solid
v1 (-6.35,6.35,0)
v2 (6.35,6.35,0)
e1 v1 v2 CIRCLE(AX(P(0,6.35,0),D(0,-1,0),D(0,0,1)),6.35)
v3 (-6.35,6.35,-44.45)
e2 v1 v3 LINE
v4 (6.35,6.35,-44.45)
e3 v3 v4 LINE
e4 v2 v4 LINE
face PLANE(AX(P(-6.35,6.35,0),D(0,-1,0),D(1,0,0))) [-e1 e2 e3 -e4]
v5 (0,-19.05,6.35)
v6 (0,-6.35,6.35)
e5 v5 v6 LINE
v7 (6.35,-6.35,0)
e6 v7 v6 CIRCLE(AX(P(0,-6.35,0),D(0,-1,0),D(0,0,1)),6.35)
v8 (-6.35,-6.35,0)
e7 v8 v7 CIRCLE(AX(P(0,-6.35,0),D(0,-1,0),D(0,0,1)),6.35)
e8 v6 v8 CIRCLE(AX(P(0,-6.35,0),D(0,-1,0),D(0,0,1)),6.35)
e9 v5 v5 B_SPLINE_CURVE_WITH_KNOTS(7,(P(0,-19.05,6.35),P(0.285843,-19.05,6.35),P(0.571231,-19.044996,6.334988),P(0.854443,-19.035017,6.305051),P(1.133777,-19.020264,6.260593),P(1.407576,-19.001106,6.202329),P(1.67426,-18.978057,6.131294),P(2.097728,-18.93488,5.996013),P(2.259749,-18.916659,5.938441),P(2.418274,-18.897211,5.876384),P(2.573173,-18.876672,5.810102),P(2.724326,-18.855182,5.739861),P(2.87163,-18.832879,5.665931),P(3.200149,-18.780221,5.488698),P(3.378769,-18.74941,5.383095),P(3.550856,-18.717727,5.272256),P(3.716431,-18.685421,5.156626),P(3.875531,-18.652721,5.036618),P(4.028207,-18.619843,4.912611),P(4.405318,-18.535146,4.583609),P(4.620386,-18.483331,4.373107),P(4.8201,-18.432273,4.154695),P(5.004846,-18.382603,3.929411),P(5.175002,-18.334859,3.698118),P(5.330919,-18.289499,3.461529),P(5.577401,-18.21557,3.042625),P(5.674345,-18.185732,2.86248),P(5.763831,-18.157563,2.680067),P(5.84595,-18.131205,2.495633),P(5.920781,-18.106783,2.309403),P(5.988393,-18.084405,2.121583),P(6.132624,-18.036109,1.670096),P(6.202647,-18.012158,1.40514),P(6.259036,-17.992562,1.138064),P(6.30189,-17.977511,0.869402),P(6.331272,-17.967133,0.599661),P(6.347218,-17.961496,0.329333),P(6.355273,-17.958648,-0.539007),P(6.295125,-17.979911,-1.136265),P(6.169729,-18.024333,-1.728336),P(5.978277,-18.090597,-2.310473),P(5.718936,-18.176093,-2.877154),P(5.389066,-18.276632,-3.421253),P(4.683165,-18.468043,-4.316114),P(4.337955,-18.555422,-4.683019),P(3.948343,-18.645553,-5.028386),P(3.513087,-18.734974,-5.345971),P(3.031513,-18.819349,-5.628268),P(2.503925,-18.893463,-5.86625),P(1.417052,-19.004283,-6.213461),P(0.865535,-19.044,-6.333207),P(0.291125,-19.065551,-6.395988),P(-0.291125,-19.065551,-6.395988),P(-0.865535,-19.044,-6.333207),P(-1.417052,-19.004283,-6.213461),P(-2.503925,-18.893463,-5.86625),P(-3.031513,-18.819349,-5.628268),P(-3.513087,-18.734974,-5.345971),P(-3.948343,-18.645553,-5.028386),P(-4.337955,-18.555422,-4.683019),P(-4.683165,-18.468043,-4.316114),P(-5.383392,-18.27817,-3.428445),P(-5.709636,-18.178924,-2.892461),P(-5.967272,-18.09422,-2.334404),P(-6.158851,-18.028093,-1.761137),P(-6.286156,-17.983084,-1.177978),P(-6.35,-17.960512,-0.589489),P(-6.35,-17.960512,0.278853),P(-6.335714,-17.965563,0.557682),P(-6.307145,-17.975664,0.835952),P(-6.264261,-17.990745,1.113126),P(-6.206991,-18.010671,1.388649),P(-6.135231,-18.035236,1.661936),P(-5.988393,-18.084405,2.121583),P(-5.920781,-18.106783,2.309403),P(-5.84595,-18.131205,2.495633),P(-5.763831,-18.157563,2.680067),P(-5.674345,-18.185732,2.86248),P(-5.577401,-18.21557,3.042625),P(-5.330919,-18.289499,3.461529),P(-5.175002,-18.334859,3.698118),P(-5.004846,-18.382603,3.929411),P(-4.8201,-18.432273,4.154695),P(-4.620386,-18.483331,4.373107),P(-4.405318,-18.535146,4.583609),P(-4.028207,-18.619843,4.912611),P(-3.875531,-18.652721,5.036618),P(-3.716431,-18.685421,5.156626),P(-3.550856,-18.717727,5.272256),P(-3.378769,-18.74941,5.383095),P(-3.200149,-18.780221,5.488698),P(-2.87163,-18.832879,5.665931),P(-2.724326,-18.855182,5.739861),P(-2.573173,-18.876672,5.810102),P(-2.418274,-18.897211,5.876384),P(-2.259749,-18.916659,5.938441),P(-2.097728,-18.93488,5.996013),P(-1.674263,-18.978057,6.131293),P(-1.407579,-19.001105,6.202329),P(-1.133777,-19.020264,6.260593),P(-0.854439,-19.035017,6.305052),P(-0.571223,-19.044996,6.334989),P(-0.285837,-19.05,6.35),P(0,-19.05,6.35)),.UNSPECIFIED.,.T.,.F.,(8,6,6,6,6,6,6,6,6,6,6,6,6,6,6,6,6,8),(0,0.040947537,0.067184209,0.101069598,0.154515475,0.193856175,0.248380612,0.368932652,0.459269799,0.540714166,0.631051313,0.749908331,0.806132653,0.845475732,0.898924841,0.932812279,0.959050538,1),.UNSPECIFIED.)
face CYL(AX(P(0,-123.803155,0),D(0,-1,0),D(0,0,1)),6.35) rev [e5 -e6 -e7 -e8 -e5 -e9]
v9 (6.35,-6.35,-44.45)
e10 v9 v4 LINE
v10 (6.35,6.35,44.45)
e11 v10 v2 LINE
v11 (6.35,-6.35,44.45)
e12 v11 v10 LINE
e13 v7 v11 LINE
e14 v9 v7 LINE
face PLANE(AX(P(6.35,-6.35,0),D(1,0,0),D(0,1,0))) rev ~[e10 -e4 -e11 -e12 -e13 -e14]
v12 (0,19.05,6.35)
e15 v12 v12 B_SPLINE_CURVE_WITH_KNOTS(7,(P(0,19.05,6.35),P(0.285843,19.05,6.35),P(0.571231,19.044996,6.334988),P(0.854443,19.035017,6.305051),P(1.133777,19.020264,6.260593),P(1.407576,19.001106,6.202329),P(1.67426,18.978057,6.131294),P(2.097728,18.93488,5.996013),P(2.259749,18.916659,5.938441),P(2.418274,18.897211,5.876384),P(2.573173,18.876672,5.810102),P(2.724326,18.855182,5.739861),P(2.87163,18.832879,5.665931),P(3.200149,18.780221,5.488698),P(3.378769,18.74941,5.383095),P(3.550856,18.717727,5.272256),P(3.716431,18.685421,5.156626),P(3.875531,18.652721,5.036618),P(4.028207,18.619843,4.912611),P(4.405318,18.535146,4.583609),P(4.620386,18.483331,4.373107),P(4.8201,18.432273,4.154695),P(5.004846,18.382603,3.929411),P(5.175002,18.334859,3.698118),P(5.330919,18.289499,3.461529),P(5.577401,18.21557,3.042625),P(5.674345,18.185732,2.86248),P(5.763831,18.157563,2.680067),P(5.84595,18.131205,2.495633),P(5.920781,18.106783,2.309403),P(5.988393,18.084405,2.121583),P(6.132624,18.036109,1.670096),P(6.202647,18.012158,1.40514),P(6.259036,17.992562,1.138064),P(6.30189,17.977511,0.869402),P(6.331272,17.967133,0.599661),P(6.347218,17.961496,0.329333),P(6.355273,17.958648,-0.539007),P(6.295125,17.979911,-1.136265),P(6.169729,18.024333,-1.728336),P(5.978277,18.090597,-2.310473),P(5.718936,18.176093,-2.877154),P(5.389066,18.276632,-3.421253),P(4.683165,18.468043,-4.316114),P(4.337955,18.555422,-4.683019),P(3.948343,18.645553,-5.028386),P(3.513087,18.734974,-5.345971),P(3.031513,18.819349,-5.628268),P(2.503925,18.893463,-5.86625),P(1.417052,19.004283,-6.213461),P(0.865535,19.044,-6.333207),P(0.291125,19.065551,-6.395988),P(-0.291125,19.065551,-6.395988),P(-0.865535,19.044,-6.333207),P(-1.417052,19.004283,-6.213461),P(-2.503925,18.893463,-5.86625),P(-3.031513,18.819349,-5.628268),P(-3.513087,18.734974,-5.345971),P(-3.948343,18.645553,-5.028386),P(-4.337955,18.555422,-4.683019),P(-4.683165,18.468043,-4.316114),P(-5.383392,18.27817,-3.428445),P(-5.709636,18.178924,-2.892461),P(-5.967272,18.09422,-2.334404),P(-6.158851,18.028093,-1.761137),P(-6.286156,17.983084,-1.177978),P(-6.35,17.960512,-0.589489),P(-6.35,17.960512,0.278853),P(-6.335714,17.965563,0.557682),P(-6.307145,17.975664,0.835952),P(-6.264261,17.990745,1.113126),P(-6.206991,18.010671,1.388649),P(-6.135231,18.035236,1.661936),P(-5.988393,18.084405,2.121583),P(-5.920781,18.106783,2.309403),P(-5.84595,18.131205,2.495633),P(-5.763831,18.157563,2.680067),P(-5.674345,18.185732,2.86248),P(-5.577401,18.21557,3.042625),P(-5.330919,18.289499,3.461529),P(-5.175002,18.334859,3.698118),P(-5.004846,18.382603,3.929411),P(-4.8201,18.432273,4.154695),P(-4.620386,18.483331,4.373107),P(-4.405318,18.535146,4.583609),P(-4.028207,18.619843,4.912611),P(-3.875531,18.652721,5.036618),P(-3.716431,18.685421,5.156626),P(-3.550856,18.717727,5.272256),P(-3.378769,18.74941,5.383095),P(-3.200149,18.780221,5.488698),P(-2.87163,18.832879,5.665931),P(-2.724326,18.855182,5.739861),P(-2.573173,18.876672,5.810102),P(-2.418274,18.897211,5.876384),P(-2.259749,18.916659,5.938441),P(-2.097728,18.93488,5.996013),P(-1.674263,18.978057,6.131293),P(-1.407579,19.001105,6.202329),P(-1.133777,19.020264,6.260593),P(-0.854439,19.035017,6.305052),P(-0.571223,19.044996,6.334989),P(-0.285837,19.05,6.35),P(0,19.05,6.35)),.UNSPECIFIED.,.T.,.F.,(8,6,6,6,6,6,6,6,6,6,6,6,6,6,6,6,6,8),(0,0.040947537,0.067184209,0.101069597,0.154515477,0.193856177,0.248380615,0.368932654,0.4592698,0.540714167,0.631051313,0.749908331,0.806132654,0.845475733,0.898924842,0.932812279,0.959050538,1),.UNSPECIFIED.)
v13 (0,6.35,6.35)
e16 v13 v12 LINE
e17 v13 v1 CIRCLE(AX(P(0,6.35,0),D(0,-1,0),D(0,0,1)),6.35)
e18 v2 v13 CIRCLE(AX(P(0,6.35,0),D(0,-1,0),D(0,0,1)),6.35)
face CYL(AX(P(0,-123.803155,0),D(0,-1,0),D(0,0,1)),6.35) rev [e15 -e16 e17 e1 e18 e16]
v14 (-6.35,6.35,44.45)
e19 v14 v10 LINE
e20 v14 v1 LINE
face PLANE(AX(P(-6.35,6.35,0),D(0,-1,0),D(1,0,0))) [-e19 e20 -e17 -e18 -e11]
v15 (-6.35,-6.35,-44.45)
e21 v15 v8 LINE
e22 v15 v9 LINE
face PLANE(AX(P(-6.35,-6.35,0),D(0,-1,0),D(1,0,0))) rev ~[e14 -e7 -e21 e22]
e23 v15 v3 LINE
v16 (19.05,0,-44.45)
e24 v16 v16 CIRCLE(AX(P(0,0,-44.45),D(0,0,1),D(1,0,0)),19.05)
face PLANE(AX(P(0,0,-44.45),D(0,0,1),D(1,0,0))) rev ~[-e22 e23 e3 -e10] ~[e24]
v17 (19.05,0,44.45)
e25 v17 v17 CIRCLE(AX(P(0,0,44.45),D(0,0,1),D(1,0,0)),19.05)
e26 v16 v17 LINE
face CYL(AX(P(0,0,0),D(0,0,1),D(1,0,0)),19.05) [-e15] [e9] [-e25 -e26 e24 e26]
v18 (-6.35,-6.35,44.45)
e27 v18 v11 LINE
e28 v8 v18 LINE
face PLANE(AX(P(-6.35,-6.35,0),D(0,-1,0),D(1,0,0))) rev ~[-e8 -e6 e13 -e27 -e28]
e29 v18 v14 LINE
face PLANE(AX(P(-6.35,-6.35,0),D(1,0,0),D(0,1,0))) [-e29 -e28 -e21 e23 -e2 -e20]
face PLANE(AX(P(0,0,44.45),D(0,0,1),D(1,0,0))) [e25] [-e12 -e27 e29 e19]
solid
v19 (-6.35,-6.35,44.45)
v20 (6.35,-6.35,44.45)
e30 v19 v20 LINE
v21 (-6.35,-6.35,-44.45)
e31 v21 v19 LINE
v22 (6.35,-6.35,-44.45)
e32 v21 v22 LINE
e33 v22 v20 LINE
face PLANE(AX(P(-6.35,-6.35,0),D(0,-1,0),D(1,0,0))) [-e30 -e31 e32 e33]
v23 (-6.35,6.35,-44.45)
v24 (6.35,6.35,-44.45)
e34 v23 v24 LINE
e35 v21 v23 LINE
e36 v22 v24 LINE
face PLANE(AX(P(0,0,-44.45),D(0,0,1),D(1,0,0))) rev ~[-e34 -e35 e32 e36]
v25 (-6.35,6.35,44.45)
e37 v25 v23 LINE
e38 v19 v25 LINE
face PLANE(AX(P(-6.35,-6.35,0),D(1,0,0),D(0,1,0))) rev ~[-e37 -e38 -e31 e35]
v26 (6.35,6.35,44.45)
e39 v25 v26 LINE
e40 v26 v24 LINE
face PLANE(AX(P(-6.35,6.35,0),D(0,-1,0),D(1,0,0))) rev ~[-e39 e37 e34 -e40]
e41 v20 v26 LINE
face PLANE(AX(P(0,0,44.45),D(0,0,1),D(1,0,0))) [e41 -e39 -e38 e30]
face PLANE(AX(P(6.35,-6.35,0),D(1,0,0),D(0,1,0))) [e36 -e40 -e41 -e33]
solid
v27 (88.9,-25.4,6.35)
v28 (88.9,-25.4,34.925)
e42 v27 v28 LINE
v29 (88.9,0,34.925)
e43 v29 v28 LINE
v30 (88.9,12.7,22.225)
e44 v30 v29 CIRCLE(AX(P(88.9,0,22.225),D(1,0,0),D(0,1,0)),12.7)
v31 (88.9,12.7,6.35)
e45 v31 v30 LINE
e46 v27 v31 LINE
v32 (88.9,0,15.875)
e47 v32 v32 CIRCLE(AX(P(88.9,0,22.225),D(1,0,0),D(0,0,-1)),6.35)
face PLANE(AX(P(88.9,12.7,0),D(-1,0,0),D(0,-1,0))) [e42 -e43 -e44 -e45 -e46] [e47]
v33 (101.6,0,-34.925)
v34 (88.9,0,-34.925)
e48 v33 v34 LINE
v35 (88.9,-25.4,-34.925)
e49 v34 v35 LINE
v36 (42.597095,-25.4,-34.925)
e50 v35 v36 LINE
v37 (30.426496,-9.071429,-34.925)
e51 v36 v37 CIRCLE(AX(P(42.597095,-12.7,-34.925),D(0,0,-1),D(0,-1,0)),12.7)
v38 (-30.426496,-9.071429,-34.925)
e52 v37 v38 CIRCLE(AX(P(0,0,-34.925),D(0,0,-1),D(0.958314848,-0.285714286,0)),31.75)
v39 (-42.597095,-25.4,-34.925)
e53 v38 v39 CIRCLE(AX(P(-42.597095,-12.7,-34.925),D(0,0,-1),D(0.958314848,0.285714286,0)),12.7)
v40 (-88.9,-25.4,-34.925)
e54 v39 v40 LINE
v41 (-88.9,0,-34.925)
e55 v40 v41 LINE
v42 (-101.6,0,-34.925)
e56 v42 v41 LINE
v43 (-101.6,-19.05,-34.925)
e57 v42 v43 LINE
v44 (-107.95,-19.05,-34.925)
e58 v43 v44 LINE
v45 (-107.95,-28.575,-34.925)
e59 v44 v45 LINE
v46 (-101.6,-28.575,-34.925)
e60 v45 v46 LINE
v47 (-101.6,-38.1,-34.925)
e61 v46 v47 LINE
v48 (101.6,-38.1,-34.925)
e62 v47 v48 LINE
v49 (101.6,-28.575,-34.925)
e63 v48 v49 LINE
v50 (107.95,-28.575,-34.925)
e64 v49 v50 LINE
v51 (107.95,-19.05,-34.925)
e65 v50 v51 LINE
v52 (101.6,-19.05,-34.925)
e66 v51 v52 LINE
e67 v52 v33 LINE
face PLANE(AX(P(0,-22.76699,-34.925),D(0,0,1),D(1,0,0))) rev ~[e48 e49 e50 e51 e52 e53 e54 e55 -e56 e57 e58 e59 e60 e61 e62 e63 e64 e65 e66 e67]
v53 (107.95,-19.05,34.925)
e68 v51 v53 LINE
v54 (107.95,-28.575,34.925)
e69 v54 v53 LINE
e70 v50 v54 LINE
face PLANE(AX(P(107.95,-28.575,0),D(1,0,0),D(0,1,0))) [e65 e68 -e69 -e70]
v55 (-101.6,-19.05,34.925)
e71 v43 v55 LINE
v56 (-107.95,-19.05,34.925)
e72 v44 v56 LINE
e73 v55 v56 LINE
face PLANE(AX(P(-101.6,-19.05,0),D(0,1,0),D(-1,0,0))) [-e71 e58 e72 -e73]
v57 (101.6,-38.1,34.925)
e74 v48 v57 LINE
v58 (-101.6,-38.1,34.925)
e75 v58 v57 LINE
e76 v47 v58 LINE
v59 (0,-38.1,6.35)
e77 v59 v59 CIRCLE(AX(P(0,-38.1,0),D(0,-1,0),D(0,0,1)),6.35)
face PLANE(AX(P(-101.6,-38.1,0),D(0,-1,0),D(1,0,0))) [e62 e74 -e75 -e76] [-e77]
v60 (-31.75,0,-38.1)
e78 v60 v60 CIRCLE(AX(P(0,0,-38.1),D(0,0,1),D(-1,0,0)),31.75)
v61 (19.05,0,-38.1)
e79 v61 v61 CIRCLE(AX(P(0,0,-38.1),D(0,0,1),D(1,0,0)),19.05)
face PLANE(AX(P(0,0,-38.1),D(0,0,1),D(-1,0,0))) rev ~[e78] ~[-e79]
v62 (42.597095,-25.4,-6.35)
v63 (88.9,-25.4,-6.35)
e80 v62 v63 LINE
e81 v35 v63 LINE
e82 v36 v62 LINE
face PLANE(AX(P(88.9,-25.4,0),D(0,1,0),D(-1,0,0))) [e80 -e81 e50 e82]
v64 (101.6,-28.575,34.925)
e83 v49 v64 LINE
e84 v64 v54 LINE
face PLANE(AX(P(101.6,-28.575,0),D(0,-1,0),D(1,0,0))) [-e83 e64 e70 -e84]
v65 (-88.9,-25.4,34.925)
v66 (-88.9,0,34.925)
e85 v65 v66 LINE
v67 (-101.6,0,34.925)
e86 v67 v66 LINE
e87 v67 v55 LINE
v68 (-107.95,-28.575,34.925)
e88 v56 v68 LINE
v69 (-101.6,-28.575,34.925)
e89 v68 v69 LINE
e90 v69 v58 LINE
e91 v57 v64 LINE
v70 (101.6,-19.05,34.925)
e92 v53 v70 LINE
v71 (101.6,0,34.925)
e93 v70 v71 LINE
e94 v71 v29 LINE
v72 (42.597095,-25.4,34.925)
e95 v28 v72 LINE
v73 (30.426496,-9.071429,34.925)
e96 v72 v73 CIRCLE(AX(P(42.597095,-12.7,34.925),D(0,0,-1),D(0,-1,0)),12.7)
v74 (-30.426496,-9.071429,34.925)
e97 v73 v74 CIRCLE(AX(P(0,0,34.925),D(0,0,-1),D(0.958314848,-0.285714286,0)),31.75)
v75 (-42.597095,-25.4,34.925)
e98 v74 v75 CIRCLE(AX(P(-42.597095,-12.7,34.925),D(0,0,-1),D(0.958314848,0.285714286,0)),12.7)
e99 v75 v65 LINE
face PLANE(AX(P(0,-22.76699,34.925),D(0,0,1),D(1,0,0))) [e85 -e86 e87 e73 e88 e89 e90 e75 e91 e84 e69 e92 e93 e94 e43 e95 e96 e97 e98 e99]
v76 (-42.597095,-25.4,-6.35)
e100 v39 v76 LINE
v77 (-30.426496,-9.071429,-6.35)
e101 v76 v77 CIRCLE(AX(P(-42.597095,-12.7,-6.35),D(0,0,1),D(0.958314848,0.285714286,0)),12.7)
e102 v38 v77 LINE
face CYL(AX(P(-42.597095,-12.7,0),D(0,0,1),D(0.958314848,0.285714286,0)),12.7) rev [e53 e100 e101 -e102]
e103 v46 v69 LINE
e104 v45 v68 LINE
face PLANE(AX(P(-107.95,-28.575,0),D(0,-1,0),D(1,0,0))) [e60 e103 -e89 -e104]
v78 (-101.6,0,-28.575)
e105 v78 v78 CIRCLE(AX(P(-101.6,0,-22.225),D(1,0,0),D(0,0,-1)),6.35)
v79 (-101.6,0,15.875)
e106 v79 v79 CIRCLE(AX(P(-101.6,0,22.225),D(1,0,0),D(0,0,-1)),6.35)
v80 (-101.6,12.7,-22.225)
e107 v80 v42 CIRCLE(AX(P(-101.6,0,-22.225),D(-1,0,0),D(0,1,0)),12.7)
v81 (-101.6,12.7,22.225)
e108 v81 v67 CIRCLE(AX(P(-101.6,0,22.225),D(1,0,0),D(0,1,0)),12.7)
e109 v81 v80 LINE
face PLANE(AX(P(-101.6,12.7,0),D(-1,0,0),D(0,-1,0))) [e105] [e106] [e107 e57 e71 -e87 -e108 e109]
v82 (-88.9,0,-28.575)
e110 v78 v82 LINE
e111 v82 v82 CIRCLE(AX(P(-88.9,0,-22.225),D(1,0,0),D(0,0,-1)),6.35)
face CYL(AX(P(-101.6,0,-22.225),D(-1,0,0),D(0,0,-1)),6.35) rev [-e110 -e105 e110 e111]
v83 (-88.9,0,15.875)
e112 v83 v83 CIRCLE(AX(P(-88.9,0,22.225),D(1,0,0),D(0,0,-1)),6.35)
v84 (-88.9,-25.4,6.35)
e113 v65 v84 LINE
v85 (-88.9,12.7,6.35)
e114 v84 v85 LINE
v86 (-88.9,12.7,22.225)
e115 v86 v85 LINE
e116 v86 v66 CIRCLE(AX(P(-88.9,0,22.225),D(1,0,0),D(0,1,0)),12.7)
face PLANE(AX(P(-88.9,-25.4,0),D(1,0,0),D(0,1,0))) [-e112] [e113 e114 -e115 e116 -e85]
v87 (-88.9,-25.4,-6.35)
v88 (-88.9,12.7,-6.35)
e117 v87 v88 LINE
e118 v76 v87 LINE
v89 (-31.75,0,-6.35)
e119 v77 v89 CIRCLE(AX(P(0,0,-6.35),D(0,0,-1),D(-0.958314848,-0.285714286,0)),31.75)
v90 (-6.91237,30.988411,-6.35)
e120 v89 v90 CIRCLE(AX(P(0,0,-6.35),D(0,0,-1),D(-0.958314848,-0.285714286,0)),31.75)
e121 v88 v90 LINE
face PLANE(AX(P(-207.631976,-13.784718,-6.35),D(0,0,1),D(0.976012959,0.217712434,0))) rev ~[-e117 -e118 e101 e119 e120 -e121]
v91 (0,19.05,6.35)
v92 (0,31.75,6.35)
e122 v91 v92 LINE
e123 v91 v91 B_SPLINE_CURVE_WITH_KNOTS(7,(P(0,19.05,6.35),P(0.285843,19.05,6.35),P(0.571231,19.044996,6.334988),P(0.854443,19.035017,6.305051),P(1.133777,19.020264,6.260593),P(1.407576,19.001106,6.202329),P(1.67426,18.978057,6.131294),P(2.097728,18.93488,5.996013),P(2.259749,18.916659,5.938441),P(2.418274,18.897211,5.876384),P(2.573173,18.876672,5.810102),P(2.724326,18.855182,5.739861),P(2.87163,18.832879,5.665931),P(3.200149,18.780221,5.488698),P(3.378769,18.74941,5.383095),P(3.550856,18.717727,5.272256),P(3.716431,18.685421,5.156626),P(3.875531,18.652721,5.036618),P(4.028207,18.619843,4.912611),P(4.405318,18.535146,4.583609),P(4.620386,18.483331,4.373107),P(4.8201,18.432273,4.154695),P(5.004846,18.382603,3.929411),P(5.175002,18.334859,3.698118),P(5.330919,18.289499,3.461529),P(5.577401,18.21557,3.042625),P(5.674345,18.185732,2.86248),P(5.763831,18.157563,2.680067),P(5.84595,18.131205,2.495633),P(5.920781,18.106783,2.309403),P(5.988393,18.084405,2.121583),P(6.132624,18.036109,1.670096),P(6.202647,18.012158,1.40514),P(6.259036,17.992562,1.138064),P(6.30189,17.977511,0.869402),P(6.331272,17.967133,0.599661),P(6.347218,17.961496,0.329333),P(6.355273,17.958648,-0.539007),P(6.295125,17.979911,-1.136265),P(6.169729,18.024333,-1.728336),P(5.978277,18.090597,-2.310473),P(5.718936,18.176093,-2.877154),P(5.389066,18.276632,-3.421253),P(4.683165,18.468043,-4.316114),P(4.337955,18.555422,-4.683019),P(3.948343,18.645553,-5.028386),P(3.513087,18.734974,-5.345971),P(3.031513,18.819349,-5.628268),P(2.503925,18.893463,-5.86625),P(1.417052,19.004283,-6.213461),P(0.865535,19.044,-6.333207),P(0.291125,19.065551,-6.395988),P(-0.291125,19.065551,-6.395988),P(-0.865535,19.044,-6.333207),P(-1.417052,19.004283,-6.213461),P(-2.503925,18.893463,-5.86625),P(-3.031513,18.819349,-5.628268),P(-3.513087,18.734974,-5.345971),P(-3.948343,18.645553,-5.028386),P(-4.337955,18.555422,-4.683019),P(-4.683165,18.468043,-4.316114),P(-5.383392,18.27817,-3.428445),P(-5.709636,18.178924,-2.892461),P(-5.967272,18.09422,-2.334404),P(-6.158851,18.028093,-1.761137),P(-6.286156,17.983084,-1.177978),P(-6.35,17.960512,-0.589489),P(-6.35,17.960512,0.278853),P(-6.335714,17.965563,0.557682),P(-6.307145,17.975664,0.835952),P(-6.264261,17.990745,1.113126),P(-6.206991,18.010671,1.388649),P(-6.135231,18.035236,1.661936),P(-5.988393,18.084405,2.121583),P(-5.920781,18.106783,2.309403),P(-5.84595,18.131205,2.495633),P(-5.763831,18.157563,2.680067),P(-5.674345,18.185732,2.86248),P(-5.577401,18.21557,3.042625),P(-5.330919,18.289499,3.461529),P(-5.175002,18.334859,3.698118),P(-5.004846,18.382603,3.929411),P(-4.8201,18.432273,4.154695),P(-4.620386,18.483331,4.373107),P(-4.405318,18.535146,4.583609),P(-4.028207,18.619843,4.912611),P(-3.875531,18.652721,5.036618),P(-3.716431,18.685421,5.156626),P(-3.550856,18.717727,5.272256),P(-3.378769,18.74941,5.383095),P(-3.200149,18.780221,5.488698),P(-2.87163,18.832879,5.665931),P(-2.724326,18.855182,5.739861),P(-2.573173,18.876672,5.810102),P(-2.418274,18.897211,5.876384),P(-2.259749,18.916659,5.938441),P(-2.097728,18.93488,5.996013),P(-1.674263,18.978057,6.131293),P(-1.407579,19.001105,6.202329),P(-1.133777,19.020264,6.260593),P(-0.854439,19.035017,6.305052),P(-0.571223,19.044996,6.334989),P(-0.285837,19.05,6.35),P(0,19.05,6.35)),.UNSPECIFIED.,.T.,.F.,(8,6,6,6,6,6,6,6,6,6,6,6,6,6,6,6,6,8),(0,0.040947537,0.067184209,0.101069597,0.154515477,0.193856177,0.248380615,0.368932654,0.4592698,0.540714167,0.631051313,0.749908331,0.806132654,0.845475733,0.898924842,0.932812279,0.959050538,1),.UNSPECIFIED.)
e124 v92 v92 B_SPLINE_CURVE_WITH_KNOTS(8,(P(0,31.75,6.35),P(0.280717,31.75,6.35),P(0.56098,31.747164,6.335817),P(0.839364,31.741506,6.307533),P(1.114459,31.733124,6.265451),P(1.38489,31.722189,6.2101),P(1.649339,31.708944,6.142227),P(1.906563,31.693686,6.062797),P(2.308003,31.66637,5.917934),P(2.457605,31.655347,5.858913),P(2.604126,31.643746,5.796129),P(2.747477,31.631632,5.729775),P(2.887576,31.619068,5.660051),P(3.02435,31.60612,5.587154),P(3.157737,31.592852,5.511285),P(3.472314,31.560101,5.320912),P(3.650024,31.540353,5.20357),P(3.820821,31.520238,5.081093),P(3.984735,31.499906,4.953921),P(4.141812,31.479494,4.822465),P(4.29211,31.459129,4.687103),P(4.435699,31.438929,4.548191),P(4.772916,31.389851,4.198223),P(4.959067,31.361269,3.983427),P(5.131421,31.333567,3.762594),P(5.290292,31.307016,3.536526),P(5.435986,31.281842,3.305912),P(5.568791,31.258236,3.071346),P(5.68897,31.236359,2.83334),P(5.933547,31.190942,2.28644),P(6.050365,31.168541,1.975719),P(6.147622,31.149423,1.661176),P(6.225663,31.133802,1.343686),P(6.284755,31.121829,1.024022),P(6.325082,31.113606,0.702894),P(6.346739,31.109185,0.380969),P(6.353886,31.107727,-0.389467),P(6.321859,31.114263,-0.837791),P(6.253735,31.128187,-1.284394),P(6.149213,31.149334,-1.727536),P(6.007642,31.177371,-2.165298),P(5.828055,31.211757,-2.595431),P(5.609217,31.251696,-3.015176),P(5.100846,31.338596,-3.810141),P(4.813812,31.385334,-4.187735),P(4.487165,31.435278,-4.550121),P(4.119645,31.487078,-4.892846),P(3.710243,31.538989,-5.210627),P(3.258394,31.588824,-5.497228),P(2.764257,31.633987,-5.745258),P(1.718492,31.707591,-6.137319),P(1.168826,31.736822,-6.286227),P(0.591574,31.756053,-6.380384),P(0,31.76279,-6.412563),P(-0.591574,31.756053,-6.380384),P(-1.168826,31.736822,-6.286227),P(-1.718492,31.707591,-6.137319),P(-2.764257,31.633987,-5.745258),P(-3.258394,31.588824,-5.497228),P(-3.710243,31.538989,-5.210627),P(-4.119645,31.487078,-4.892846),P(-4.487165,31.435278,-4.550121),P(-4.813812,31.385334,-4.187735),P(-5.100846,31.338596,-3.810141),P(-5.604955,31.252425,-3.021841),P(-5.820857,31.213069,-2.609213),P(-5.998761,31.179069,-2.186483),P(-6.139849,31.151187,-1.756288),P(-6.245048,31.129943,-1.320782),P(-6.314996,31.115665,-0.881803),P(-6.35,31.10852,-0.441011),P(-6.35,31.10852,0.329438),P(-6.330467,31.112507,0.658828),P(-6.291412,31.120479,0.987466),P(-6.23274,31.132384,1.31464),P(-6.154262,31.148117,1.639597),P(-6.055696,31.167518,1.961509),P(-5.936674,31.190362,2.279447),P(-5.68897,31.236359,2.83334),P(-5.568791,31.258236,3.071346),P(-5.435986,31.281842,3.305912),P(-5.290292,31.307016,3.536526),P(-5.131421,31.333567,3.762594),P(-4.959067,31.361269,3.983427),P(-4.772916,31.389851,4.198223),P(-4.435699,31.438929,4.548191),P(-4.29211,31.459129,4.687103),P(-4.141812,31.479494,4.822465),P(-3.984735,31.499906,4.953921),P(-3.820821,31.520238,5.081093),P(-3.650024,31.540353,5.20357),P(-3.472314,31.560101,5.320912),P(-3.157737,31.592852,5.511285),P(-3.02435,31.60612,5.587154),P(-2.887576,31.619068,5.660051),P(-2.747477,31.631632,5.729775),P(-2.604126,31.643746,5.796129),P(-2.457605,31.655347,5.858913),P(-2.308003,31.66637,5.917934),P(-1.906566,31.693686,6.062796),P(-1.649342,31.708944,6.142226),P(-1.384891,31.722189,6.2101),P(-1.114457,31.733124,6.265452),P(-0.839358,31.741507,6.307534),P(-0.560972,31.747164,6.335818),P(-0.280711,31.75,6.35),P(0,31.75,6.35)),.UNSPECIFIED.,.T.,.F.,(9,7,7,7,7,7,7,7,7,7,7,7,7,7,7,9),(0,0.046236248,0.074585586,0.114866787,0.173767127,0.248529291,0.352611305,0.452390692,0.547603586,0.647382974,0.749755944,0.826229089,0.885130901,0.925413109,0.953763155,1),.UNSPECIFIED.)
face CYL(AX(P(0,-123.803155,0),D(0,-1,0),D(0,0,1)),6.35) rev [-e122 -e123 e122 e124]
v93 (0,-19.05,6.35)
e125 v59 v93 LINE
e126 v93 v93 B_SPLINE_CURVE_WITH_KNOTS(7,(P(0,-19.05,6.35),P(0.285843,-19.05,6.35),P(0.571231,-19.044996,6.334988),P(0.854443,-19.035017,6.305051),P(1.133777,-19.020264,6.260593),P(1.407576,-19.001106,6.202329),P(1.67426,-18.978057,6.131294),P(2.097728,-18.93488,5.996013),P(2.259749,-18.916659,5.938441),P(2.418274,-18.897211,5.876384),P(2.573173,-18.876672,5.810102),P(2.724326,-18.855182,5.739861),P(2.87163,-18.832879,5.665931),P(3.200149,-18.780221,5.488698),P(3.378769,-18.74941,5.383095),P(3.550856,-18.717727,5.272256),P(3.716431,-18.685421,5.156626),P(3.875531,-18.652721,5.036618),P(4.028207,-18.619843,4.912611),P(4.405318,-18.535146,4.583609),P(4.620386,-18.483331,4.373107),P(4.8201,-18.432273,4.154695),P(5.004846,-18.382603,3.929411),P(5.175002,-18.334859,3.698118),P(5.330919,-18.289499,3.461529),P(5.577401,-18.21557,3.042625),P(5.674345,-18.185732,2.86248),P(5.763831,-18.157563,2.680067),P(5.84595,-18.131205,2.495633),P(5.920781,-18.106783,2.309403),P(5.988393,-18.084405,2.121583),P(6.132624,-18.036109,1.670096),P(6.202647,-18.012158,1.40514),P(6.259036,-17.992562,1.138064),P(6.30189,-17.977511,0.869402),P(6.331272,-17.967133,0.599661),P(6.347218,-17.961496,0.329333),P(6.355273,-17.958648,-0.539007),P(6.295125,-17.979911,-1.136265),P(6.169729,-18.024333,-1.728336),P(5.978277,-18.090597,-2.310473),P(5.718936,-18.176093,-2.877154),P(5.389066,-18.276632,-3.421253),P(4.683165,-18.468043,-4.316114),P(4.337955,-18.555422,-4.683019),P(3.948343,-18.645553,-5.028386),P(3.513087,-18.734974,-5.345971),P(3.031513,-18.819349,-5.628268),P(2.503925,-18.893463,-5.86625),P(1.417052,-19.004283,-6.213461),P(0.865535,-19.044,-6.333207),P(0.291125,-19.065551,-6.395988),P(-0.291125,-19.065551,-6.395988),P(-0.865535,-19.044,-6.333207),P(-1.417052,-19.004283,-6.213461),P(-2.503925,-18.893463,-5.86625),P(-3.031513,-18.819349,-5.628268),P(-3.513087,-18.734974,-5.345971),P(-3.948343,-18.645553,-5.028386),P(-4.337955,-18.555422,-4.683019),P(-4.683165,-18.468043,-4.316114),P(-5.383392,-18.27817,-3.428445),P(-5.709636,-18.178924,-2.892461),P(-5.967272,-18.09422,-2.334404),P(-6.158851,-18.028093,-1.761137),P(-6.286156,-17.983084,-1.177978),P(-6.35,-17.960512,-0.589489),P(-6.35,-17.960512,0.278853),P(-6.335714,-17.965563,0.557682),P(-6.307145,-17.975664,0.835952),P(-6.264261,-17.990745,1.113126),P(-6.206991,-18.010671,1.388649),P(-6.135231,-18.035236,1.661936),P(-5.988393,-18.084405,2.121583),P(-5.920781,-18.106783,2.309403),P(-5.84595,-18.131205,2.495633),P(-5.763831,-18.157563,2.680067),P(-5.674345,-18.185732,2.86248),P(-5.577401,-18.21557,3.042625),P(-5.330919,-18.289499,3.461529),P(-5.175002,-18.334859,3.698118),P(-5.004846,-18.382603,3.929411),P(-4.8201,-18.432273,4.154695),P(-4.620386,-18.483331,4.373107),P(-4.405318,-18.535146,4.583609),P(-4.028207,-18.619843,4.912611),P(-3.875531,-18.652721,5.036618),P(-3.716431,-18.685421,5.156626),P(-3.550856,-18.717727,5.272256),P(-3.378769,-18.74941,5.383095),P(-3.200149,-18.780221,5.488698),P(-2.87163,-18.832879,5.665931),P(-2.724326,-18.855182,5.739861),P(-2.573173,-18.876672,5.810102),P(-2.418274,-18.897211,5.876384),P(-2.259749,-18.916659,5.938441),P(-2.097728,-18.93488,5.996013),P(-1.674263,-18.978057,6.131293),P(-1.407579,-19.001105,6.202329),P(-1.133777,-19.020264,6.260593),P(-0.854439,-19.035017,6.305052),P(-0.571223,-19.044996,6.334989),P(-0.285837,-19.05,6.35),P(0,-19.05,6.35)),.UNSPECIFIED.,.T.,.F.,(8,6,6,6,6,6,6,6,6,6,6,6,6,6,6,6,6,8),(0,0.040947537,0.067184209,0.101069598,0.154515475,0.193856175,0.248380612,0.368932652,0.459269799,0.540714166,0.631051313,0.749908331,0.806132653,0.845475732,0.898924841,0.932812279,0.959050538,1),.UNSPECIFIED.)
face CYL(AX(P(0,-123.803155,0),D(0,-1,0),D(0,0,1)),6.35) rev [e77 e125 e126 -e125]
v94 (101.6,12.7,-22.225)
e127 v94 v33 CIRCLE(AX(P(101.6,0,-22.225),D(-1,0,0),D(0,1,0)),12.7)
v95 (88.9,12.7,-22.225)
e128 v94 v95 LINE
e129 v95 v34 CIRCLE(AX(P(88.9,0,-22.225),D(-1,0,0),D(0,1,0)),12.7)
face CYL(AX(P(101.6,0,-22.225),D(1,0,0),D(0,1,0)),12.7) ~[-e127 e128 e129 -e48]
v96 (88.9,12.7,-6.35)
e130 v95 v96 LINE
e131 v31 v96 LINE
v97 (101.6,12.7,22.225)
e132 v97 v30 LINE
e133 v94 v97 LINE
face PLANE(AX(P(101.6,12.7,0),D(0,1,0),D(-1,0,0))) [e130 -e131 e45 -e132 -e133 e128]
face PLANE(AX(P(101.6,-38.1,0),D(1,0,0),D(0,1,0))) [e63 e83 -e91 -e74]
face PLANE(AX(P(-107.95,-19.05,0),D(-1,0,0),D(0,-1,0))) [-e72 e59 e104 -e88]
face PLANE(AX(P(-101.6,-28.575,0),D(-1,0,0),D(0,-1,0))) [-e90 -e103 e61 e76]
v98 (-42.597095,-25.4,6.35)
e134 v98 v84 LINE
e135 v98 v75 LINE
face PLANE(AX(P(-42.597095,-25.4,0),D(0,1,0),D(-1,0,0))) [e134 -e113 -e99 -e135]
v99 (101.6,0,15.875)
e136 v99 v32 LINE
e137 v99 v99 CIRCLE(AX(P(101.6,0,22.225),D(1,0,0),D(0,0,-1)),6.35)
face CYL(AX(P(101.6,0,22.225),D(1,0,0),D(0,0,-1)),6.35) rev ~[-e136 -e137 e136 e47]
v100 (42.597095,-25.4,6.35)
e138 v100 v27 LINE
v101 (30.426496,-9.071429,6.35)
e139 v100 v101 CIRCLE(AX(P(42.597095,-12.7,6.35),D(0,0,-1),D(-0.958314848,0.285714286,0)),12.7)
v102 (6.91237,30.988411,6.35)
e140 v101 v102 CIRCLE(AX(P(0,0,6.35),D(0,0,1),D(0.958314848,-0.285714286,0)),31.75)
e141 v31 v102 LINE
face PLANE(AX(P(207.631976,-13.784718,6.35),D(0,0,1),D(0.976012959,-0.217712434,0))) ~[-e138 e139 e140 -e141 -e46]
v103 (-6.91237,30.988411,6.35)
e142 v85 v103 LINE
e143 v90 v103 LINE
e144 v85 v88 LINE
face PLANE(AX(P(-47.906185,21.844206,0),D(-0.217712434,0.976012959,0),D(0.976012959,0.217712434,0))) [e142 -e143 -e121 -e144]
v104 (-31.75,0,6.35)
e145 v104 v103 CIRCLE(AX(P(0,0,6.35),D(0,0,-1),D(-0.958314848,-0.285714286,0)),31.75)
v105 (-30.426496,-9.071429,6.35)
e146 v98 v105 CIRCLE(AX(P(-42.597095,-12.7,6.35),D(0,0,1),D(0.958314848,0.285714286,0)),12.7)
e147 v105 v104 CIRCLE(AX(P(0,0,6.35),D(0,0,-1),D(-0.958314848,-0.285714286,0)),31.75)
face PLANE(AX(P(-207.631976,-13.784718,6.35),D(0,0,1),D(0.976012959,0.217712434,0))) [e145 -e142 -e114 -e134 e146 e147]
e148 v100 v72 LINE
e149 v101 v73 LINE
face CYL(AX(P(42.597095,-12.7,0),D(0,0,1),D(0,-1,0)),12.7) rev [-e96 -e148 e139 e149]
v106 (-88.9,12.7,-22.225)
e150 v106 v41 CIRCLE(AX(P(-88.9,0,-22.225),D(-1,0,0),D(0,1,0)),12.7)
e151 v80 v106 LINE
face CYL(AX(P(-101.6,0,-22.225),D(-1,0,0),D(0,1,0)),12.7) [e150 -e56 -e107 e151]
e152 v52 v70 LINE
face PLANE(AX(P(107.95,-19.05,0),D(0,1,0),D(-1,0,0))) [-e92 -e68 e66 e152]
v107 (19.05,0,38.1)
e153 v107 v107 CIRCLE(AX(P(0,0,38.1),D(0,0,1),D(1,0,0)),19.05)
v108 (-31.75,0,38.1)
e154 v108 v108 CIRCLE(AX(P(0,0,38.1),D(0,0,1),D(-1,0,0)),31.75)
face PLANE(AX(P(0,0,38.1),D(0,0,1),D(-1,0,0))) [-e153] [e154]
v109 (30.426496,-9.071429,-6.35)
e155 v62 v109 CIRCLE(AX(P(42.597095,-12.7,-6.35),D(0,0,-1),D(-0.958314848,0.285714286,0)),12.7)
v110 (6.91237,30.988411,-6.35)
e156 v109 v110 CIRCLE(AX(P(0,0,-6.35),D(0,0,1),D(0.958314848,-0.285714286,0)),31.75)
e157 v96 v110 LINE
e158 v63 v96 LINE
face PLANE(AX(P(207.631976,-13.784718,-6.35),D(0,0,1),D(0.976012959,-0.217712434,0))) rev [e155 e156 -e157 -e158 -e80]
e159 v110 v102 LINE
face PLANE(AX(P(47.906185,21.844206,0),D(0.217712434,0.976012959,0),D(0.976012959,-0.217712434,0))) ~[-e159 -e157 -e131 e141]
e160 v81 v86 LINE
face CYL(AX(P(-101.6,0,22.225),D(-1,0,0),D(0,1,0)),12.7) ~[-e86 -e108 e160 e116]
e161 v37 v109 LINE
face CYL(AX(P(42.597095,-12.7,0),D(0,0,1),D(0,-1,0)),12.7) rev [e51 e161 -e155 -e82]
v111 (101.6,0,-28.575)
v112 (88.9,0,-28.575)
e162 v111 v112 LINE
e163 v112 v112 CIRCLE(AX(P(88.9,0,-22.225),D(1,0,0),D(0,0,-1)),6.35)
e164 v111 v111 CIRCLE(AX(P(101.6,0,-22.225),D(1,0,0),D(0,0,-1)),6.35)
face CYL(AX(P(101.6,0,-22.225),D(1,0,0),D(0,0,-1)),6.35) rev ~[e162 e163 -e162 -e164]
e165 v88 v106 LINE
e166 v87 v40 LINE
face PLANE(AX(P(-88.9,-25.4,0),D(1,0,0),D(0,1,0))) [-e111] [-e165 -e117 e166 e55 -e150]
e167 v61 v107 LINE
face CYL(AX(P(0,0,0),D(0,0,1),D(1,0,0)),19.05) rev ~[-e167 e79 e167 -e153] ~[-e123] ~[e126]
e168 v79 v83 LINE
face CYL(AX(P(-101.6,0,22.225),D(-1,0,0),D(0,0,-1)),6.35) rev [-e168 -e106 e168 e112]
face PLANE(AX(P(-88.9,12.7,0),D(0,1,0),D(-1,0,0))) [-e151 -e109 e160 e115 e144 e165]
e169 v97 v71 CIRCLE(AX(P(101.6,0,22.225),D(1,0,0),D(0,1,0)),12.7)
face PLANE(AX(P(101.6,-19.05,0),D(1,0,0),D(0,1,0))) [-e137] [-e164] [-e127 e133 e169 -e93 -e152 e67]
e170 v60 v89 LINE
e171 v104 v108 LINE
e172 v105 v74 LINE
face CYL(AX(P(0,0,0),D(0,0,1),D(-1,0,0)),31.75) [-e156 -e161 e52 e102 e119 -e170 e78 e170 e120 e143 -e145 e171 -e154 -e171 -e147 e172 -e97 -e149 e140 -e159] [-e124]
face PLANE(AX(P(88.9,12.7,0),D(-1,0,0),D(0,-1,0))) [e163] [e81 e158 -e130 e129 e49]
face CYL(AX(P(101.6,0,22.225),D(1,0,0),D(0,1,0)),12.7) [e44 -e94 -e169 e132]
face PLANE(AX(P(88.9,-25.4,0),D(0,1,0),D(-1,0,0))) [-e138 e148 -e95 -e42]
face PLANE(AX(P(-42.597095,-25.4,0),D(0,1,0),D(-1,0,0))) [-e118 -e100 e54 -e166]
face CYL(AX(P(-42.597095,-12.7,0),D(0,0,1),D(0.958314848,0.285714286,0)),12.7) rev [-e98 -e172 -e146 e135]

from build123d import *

# Parameters (mm, degrees)
SKETCH1_R               = 31.75
BOSS_EXTRUDE1_DEPTH     = 38.1
BOSS_EXTRUDE3_DEPTH     = 34.925
RIB2_REACH              = 122.65
SKETCH5_WALL_W          = 327.302604126
SKETCH5_WALL_H          = 12.7
SKETCH10_R              = 19.05
CUT_EXTRUDE5_DEPTH      = 44.45
SKETCH6_R               = 19.05
BOSS_EXTRUDE8_DEPTH     = 44.45
SKETCH7_W               = 12.7
SKETCH7_H               = 12.7
CUT_EXTRUDE6_DEPTH      = 44.45
SKETCH7_2_W             = 12.7
SKETCH7_2_H             = 12.7
BOSS_EXTRUDE9_DEPTH     = 44.45
CUT_EXTRUDE7_REACH      = 219.574
SKETCH13_R              = 6.35
CUT_EXTRUDE8_REACH      = 219.574
MIRROR4_COPY_1_REACH    = 219.574
CUT_EXTRUDE9_DEPTH      = 123.803155497
CUT_EXTRUDE9_DEPTH_BACK = 123.803155497
SKETCH15_R              = 6.35


with BuildPart() as part:
    # Sketch1 → Boss-Extrude1 (new, symmetric)
    with BuildSketch(Plane.XY):
        with Locations(Location((0, 0, 0), (0, 0, 180))):
            Circle(SKETCH1_R)
    extrude(amount=BOSS_EXTRUDE1_DEPTH, both=True)

    # Sketch4 → Boss-Extrude3 (add, symmetric)
    with BuildSketch(Plane.XY):
        with BuildLine():
            Line((-101.6, 12.7), (-101.6, -19.05))
            Line((-101.6, -19.05), (-107.95, -19.05))
            Line((-107.95, -19.05), (-107.95, -28.575))
            Line((-107.95, -28.575), (-101.6, -28.575))
            Line((-101.6, -28.575), (-101.6, -38.1))
            Line((-101.6, -38.1), (101.6, -38.1))
            Line((101.6, -38.1), (101.6, -28.575))
            Line((101.6, -28.575), (107.95, -28.575))
            Line((107.95, -28.575), (107.95, -19.05))
            Line((107.95, -19.05), (101.6, -19.05))
            Line((101.6, -19.05), (101.6, 12.7))
            Line((101.6, 12.7), (88.9, 12.7))
            Line((88.9, 12.7), (88.9, -25.4))
            Line((88.9, -25.4), (42.597094971, -25.4))
            ThreePointArc((42.597094971, -25.4), (32.414441655, -20.289701669), (30.426496408, -9.071428571))
            ThreePointArc((30.426496408, -9.071428571), (0, -31.75), (-30.426496408, -9.071428571))
            ThreePointArc((-30.426496408, -9.071428571), (-32.414441655, -20.289701669), (-42.597094971, -25.4))
            Line((-42.597094971, -25.4), (-88.9, -25.4))
            Line((-88.9, -25.4), (-88.9, 12.7))
            Line((-88.9, 12.7), (-101.6, 12.7))
        make_face()
    extrude(amount=BOSS_EXTRUDE3_DEPTH, both=True)

    # Sketch5 wall → Rib2 (add, up to next)
    with BuildSketch(Plane(origin=(-47.906184897, 21.844205722, 0), x_dir=(0.976012958873, 0.217712434445, 0), z_dir=(-0.217712434445, 0.976012958873, 0)), mode=Mode.PRIVATE) as rib2_sk1:
        Rectangle(SKETCH5_WALL_W, SKETCH5_WALL_H)
    rib2_tool1 = extrude(rib2_sk1.sketch, amount=-RIB2_REACH, mode=Mode.PRIVATE) - part.part
    rib2 = rib2_tool1.solids().sort_by_distance((-47.906184897, 21.844205722, 0))[0]
    add(rib2)

    # Mirror1: Rib2 across plane
    add(rib2.mirror(Plane(origin=(0, 0, 0), x_dir=(0, 0, 1), z_dir=(1, 0, 0))))

    # Sketch10 → Cut-Extrude5 (cut, symmetric)
    with BuildSketch(Plane.XY):
        Circle(SKETCH10_R)
    extrude(amount=CUT_EXTRUDE5_DEPTH, both=True, mode=Mode.SUBTRACT)

    # Sketch13 → Cut-Extrude7 (cut, up to next)
    with BuildSketch(Plane(origin=(101.6, 0, 0), x_dir=(0, 0, -1), z_dir=(1, 0, 0)), mode=Mode.PRIVATE) as cut_extrude7_sk1:
        with Locations((-22.225, 0)):
            Circle(SKETCH13_R)
    cut_extrude7_tool1 = extrude(cut_extrude7_sk1.sketch, amount=-CUT_EXTRUDE7_REACH, mode=Mode.PRIVATE) & part.part
    # Sketch13 → Cut-Extrude7 (cut, up to next)
    with BuildSketch(Plane(origin=(101.6, 0, 0), x_dir=(0, 0, -1), z_dir=(1, 0, 0)), mode=Mode.PRIVATE) as cut_extrude7_sk2:
        with Locations((22.225, 0)):
            Circle(SKETCH13_R)
    cut_extrude7_tool2 = extrude(cut_extrude7_sk2.sketch, amount=-CUT_EXTRUDE7_REACH, mode=Mode.PRIVATE) & part.part
    cut_extrude7_1 = cut_extrude7_tool1.solids().sort_by_distance((101.6, 0, 22.225))[0]
    add(cut_extrude7_1, mode=Mode.SUBTRACT)
    cut_extrude7_2 = cut_extrude7_tool2.solids().sort_by_distance((101.6, 0, -22.225))[0]
    add(cut_extrude7_2, mode=Mode.SUBTRACT)
    cut_extrude7 = cut_extrude7_1 + cut_extrude7_2  # Cut-Extrude7 as one shape, for the pattern or mirror that repeats it

    # Mirror2: Cut-Extrude7 across plane
    add(cut_extrude7.mirror(Plane(origin=(0, 0, 0), x_dir=(0, 0, 1), z_dir=(1, 0, 0))), mode=Mode.SUBTRACT)

    # Sketch14 → Cut-Extrude8 (cut, up to next)
    with BuildSketch(Plane(origin=(101.6, 0, 0), x_dir=(0, 0, -1), z_dir=(1, 0, 0)), mode=Mode.PRIVATE) as cut_extrude8_sk1:
        with BuildLine():
            Line((-34.925, 12.7), (-22.225, 12.7))
            ThreePointArc((-22.225, 12.7), (-31.205256121, 8.980256121), (-34.925, 0))
            Line((-34.925, 0), (-34.925, 12.7))
        make_face()
    cut_extrude8_tool1 = extrude(cut_extrude8_sk1.sketch, amount=-CUT_EXTRUDE8_REACH, mode=Mode.PRIVATE) & part.part
    cut_extrude8 = cut_extrude8_tool1.solids().sort_by_distance((101.6, 9.863227, 32.088227))[0]
    add(cut_extrude8, mode=Mode.SUBTRACT)

    # Mirror3: Cut-Extrude8 across plane
    add(cut_extrude8.mirror(Plane.XY), mode=Mode.SUBTRACT)

    # Mirror4: Cut-Extrude8 across plane
    add(cut_extrude8.mirror(Plane(origin=(0, 0, 0), x_dir=(0, 0, 1), z_dir=(1, 0, 0))), mode=Mode.SUBTRACT)

    # Mirror4 copy 1 sketch → Mirror4 copy 1 (cut, up to next)
    with BuildSketch(Plane.ZY.offset(101.6), mode=Mode.PRIVATE) as mirror4_copy_1_sk1:
        with BuildLine():
            Line((-34.925, 12.7), (-22.225, 12.7))
            ThreePointArc((-22.225, 12.7), (-31.205256121, 8.980256121), (-34.925, 0))
            Line((-34.925, 0), (-34.925, 12.7))
        make_face()
    mirror4_copy_1_tool1 = extrude(mirror4_copy_1_sk1.sketch, amount=-MIRROR4_COPY_1_REACH, mode=Mode.PRIVATE) & part.part
    add(mirror4_copy_1_tool1.solids().sort_by_distance((-101.6, 9.863227, -32.088227))[0], mode=Mode.SUBTRACT)


with BuildPart() as body_2:
    # Sketch6 → Boss-Extrude8 (new, symmetric)
    with BuildSketch(Plane.XY):
        Circle(SKETCH6_R)
    extrude(amount=BOSS_EXTRUDE8_DEPTH, both=True)

    # Sketch7 → Cut-Extrude6 (cut, symmetric)
    with BuildSketch(Plane.XY):
        Rectangle(SKETCH7_W, SKETCH7_H)
    extrude(amount=CUT_EXTRUDE6_DEPTH, both=True, mode=Mode.SUBTRACT)


with BuildPart() as body_3:
    # Sketch7<2> → Boss-Extrude9 (new, symmetric)
    with BuildSketch(Plane.XY):
        Rectangle(SKETCH7_2_W, SKETCH7_2_H)
    extrude(amount=BOSS_EXTRUDE9_DEPTH, both=True)


with BuildPart() as cut_extrude9_tool:
    # Sketch15 → Cut-Extrude9 (new, two sides: drawn at the far end of the back side and taken through both)
    with BuildSketch(Plane(origin=(0, 0, 0), x_dir=(1, 0, 0), z_dir=(0, 1, 0)).offset(-CUT_EXTRUDE9_DEPTH_BACK)):
        with Locations(Location((0, 0, 0), (0, 0, 270))):
            Circle(SKETCH15_R)
    extrude(amount=CUT_EXTRUDE9_DEPTH + CUT_EXTRUDE9_DEPTH_BACK)


with BuildPart() as body_2_1:
    add(body_2.part)

    # Cut-Extrude9: cut by cut_extrude9_tool
    add(cut_extrude9_tool.part, mode=Mode.SUBTRACT)


with BuildPart() as part_1:
    add(part.part)

    # Cut-Extrude9: cut by cut_extrude9_tool
    add(cut_extrude9_tool.part, mode=Mode.SUBTRACT)


solid = Compound([body_3.part, body_2_1.part, part_1.part])
